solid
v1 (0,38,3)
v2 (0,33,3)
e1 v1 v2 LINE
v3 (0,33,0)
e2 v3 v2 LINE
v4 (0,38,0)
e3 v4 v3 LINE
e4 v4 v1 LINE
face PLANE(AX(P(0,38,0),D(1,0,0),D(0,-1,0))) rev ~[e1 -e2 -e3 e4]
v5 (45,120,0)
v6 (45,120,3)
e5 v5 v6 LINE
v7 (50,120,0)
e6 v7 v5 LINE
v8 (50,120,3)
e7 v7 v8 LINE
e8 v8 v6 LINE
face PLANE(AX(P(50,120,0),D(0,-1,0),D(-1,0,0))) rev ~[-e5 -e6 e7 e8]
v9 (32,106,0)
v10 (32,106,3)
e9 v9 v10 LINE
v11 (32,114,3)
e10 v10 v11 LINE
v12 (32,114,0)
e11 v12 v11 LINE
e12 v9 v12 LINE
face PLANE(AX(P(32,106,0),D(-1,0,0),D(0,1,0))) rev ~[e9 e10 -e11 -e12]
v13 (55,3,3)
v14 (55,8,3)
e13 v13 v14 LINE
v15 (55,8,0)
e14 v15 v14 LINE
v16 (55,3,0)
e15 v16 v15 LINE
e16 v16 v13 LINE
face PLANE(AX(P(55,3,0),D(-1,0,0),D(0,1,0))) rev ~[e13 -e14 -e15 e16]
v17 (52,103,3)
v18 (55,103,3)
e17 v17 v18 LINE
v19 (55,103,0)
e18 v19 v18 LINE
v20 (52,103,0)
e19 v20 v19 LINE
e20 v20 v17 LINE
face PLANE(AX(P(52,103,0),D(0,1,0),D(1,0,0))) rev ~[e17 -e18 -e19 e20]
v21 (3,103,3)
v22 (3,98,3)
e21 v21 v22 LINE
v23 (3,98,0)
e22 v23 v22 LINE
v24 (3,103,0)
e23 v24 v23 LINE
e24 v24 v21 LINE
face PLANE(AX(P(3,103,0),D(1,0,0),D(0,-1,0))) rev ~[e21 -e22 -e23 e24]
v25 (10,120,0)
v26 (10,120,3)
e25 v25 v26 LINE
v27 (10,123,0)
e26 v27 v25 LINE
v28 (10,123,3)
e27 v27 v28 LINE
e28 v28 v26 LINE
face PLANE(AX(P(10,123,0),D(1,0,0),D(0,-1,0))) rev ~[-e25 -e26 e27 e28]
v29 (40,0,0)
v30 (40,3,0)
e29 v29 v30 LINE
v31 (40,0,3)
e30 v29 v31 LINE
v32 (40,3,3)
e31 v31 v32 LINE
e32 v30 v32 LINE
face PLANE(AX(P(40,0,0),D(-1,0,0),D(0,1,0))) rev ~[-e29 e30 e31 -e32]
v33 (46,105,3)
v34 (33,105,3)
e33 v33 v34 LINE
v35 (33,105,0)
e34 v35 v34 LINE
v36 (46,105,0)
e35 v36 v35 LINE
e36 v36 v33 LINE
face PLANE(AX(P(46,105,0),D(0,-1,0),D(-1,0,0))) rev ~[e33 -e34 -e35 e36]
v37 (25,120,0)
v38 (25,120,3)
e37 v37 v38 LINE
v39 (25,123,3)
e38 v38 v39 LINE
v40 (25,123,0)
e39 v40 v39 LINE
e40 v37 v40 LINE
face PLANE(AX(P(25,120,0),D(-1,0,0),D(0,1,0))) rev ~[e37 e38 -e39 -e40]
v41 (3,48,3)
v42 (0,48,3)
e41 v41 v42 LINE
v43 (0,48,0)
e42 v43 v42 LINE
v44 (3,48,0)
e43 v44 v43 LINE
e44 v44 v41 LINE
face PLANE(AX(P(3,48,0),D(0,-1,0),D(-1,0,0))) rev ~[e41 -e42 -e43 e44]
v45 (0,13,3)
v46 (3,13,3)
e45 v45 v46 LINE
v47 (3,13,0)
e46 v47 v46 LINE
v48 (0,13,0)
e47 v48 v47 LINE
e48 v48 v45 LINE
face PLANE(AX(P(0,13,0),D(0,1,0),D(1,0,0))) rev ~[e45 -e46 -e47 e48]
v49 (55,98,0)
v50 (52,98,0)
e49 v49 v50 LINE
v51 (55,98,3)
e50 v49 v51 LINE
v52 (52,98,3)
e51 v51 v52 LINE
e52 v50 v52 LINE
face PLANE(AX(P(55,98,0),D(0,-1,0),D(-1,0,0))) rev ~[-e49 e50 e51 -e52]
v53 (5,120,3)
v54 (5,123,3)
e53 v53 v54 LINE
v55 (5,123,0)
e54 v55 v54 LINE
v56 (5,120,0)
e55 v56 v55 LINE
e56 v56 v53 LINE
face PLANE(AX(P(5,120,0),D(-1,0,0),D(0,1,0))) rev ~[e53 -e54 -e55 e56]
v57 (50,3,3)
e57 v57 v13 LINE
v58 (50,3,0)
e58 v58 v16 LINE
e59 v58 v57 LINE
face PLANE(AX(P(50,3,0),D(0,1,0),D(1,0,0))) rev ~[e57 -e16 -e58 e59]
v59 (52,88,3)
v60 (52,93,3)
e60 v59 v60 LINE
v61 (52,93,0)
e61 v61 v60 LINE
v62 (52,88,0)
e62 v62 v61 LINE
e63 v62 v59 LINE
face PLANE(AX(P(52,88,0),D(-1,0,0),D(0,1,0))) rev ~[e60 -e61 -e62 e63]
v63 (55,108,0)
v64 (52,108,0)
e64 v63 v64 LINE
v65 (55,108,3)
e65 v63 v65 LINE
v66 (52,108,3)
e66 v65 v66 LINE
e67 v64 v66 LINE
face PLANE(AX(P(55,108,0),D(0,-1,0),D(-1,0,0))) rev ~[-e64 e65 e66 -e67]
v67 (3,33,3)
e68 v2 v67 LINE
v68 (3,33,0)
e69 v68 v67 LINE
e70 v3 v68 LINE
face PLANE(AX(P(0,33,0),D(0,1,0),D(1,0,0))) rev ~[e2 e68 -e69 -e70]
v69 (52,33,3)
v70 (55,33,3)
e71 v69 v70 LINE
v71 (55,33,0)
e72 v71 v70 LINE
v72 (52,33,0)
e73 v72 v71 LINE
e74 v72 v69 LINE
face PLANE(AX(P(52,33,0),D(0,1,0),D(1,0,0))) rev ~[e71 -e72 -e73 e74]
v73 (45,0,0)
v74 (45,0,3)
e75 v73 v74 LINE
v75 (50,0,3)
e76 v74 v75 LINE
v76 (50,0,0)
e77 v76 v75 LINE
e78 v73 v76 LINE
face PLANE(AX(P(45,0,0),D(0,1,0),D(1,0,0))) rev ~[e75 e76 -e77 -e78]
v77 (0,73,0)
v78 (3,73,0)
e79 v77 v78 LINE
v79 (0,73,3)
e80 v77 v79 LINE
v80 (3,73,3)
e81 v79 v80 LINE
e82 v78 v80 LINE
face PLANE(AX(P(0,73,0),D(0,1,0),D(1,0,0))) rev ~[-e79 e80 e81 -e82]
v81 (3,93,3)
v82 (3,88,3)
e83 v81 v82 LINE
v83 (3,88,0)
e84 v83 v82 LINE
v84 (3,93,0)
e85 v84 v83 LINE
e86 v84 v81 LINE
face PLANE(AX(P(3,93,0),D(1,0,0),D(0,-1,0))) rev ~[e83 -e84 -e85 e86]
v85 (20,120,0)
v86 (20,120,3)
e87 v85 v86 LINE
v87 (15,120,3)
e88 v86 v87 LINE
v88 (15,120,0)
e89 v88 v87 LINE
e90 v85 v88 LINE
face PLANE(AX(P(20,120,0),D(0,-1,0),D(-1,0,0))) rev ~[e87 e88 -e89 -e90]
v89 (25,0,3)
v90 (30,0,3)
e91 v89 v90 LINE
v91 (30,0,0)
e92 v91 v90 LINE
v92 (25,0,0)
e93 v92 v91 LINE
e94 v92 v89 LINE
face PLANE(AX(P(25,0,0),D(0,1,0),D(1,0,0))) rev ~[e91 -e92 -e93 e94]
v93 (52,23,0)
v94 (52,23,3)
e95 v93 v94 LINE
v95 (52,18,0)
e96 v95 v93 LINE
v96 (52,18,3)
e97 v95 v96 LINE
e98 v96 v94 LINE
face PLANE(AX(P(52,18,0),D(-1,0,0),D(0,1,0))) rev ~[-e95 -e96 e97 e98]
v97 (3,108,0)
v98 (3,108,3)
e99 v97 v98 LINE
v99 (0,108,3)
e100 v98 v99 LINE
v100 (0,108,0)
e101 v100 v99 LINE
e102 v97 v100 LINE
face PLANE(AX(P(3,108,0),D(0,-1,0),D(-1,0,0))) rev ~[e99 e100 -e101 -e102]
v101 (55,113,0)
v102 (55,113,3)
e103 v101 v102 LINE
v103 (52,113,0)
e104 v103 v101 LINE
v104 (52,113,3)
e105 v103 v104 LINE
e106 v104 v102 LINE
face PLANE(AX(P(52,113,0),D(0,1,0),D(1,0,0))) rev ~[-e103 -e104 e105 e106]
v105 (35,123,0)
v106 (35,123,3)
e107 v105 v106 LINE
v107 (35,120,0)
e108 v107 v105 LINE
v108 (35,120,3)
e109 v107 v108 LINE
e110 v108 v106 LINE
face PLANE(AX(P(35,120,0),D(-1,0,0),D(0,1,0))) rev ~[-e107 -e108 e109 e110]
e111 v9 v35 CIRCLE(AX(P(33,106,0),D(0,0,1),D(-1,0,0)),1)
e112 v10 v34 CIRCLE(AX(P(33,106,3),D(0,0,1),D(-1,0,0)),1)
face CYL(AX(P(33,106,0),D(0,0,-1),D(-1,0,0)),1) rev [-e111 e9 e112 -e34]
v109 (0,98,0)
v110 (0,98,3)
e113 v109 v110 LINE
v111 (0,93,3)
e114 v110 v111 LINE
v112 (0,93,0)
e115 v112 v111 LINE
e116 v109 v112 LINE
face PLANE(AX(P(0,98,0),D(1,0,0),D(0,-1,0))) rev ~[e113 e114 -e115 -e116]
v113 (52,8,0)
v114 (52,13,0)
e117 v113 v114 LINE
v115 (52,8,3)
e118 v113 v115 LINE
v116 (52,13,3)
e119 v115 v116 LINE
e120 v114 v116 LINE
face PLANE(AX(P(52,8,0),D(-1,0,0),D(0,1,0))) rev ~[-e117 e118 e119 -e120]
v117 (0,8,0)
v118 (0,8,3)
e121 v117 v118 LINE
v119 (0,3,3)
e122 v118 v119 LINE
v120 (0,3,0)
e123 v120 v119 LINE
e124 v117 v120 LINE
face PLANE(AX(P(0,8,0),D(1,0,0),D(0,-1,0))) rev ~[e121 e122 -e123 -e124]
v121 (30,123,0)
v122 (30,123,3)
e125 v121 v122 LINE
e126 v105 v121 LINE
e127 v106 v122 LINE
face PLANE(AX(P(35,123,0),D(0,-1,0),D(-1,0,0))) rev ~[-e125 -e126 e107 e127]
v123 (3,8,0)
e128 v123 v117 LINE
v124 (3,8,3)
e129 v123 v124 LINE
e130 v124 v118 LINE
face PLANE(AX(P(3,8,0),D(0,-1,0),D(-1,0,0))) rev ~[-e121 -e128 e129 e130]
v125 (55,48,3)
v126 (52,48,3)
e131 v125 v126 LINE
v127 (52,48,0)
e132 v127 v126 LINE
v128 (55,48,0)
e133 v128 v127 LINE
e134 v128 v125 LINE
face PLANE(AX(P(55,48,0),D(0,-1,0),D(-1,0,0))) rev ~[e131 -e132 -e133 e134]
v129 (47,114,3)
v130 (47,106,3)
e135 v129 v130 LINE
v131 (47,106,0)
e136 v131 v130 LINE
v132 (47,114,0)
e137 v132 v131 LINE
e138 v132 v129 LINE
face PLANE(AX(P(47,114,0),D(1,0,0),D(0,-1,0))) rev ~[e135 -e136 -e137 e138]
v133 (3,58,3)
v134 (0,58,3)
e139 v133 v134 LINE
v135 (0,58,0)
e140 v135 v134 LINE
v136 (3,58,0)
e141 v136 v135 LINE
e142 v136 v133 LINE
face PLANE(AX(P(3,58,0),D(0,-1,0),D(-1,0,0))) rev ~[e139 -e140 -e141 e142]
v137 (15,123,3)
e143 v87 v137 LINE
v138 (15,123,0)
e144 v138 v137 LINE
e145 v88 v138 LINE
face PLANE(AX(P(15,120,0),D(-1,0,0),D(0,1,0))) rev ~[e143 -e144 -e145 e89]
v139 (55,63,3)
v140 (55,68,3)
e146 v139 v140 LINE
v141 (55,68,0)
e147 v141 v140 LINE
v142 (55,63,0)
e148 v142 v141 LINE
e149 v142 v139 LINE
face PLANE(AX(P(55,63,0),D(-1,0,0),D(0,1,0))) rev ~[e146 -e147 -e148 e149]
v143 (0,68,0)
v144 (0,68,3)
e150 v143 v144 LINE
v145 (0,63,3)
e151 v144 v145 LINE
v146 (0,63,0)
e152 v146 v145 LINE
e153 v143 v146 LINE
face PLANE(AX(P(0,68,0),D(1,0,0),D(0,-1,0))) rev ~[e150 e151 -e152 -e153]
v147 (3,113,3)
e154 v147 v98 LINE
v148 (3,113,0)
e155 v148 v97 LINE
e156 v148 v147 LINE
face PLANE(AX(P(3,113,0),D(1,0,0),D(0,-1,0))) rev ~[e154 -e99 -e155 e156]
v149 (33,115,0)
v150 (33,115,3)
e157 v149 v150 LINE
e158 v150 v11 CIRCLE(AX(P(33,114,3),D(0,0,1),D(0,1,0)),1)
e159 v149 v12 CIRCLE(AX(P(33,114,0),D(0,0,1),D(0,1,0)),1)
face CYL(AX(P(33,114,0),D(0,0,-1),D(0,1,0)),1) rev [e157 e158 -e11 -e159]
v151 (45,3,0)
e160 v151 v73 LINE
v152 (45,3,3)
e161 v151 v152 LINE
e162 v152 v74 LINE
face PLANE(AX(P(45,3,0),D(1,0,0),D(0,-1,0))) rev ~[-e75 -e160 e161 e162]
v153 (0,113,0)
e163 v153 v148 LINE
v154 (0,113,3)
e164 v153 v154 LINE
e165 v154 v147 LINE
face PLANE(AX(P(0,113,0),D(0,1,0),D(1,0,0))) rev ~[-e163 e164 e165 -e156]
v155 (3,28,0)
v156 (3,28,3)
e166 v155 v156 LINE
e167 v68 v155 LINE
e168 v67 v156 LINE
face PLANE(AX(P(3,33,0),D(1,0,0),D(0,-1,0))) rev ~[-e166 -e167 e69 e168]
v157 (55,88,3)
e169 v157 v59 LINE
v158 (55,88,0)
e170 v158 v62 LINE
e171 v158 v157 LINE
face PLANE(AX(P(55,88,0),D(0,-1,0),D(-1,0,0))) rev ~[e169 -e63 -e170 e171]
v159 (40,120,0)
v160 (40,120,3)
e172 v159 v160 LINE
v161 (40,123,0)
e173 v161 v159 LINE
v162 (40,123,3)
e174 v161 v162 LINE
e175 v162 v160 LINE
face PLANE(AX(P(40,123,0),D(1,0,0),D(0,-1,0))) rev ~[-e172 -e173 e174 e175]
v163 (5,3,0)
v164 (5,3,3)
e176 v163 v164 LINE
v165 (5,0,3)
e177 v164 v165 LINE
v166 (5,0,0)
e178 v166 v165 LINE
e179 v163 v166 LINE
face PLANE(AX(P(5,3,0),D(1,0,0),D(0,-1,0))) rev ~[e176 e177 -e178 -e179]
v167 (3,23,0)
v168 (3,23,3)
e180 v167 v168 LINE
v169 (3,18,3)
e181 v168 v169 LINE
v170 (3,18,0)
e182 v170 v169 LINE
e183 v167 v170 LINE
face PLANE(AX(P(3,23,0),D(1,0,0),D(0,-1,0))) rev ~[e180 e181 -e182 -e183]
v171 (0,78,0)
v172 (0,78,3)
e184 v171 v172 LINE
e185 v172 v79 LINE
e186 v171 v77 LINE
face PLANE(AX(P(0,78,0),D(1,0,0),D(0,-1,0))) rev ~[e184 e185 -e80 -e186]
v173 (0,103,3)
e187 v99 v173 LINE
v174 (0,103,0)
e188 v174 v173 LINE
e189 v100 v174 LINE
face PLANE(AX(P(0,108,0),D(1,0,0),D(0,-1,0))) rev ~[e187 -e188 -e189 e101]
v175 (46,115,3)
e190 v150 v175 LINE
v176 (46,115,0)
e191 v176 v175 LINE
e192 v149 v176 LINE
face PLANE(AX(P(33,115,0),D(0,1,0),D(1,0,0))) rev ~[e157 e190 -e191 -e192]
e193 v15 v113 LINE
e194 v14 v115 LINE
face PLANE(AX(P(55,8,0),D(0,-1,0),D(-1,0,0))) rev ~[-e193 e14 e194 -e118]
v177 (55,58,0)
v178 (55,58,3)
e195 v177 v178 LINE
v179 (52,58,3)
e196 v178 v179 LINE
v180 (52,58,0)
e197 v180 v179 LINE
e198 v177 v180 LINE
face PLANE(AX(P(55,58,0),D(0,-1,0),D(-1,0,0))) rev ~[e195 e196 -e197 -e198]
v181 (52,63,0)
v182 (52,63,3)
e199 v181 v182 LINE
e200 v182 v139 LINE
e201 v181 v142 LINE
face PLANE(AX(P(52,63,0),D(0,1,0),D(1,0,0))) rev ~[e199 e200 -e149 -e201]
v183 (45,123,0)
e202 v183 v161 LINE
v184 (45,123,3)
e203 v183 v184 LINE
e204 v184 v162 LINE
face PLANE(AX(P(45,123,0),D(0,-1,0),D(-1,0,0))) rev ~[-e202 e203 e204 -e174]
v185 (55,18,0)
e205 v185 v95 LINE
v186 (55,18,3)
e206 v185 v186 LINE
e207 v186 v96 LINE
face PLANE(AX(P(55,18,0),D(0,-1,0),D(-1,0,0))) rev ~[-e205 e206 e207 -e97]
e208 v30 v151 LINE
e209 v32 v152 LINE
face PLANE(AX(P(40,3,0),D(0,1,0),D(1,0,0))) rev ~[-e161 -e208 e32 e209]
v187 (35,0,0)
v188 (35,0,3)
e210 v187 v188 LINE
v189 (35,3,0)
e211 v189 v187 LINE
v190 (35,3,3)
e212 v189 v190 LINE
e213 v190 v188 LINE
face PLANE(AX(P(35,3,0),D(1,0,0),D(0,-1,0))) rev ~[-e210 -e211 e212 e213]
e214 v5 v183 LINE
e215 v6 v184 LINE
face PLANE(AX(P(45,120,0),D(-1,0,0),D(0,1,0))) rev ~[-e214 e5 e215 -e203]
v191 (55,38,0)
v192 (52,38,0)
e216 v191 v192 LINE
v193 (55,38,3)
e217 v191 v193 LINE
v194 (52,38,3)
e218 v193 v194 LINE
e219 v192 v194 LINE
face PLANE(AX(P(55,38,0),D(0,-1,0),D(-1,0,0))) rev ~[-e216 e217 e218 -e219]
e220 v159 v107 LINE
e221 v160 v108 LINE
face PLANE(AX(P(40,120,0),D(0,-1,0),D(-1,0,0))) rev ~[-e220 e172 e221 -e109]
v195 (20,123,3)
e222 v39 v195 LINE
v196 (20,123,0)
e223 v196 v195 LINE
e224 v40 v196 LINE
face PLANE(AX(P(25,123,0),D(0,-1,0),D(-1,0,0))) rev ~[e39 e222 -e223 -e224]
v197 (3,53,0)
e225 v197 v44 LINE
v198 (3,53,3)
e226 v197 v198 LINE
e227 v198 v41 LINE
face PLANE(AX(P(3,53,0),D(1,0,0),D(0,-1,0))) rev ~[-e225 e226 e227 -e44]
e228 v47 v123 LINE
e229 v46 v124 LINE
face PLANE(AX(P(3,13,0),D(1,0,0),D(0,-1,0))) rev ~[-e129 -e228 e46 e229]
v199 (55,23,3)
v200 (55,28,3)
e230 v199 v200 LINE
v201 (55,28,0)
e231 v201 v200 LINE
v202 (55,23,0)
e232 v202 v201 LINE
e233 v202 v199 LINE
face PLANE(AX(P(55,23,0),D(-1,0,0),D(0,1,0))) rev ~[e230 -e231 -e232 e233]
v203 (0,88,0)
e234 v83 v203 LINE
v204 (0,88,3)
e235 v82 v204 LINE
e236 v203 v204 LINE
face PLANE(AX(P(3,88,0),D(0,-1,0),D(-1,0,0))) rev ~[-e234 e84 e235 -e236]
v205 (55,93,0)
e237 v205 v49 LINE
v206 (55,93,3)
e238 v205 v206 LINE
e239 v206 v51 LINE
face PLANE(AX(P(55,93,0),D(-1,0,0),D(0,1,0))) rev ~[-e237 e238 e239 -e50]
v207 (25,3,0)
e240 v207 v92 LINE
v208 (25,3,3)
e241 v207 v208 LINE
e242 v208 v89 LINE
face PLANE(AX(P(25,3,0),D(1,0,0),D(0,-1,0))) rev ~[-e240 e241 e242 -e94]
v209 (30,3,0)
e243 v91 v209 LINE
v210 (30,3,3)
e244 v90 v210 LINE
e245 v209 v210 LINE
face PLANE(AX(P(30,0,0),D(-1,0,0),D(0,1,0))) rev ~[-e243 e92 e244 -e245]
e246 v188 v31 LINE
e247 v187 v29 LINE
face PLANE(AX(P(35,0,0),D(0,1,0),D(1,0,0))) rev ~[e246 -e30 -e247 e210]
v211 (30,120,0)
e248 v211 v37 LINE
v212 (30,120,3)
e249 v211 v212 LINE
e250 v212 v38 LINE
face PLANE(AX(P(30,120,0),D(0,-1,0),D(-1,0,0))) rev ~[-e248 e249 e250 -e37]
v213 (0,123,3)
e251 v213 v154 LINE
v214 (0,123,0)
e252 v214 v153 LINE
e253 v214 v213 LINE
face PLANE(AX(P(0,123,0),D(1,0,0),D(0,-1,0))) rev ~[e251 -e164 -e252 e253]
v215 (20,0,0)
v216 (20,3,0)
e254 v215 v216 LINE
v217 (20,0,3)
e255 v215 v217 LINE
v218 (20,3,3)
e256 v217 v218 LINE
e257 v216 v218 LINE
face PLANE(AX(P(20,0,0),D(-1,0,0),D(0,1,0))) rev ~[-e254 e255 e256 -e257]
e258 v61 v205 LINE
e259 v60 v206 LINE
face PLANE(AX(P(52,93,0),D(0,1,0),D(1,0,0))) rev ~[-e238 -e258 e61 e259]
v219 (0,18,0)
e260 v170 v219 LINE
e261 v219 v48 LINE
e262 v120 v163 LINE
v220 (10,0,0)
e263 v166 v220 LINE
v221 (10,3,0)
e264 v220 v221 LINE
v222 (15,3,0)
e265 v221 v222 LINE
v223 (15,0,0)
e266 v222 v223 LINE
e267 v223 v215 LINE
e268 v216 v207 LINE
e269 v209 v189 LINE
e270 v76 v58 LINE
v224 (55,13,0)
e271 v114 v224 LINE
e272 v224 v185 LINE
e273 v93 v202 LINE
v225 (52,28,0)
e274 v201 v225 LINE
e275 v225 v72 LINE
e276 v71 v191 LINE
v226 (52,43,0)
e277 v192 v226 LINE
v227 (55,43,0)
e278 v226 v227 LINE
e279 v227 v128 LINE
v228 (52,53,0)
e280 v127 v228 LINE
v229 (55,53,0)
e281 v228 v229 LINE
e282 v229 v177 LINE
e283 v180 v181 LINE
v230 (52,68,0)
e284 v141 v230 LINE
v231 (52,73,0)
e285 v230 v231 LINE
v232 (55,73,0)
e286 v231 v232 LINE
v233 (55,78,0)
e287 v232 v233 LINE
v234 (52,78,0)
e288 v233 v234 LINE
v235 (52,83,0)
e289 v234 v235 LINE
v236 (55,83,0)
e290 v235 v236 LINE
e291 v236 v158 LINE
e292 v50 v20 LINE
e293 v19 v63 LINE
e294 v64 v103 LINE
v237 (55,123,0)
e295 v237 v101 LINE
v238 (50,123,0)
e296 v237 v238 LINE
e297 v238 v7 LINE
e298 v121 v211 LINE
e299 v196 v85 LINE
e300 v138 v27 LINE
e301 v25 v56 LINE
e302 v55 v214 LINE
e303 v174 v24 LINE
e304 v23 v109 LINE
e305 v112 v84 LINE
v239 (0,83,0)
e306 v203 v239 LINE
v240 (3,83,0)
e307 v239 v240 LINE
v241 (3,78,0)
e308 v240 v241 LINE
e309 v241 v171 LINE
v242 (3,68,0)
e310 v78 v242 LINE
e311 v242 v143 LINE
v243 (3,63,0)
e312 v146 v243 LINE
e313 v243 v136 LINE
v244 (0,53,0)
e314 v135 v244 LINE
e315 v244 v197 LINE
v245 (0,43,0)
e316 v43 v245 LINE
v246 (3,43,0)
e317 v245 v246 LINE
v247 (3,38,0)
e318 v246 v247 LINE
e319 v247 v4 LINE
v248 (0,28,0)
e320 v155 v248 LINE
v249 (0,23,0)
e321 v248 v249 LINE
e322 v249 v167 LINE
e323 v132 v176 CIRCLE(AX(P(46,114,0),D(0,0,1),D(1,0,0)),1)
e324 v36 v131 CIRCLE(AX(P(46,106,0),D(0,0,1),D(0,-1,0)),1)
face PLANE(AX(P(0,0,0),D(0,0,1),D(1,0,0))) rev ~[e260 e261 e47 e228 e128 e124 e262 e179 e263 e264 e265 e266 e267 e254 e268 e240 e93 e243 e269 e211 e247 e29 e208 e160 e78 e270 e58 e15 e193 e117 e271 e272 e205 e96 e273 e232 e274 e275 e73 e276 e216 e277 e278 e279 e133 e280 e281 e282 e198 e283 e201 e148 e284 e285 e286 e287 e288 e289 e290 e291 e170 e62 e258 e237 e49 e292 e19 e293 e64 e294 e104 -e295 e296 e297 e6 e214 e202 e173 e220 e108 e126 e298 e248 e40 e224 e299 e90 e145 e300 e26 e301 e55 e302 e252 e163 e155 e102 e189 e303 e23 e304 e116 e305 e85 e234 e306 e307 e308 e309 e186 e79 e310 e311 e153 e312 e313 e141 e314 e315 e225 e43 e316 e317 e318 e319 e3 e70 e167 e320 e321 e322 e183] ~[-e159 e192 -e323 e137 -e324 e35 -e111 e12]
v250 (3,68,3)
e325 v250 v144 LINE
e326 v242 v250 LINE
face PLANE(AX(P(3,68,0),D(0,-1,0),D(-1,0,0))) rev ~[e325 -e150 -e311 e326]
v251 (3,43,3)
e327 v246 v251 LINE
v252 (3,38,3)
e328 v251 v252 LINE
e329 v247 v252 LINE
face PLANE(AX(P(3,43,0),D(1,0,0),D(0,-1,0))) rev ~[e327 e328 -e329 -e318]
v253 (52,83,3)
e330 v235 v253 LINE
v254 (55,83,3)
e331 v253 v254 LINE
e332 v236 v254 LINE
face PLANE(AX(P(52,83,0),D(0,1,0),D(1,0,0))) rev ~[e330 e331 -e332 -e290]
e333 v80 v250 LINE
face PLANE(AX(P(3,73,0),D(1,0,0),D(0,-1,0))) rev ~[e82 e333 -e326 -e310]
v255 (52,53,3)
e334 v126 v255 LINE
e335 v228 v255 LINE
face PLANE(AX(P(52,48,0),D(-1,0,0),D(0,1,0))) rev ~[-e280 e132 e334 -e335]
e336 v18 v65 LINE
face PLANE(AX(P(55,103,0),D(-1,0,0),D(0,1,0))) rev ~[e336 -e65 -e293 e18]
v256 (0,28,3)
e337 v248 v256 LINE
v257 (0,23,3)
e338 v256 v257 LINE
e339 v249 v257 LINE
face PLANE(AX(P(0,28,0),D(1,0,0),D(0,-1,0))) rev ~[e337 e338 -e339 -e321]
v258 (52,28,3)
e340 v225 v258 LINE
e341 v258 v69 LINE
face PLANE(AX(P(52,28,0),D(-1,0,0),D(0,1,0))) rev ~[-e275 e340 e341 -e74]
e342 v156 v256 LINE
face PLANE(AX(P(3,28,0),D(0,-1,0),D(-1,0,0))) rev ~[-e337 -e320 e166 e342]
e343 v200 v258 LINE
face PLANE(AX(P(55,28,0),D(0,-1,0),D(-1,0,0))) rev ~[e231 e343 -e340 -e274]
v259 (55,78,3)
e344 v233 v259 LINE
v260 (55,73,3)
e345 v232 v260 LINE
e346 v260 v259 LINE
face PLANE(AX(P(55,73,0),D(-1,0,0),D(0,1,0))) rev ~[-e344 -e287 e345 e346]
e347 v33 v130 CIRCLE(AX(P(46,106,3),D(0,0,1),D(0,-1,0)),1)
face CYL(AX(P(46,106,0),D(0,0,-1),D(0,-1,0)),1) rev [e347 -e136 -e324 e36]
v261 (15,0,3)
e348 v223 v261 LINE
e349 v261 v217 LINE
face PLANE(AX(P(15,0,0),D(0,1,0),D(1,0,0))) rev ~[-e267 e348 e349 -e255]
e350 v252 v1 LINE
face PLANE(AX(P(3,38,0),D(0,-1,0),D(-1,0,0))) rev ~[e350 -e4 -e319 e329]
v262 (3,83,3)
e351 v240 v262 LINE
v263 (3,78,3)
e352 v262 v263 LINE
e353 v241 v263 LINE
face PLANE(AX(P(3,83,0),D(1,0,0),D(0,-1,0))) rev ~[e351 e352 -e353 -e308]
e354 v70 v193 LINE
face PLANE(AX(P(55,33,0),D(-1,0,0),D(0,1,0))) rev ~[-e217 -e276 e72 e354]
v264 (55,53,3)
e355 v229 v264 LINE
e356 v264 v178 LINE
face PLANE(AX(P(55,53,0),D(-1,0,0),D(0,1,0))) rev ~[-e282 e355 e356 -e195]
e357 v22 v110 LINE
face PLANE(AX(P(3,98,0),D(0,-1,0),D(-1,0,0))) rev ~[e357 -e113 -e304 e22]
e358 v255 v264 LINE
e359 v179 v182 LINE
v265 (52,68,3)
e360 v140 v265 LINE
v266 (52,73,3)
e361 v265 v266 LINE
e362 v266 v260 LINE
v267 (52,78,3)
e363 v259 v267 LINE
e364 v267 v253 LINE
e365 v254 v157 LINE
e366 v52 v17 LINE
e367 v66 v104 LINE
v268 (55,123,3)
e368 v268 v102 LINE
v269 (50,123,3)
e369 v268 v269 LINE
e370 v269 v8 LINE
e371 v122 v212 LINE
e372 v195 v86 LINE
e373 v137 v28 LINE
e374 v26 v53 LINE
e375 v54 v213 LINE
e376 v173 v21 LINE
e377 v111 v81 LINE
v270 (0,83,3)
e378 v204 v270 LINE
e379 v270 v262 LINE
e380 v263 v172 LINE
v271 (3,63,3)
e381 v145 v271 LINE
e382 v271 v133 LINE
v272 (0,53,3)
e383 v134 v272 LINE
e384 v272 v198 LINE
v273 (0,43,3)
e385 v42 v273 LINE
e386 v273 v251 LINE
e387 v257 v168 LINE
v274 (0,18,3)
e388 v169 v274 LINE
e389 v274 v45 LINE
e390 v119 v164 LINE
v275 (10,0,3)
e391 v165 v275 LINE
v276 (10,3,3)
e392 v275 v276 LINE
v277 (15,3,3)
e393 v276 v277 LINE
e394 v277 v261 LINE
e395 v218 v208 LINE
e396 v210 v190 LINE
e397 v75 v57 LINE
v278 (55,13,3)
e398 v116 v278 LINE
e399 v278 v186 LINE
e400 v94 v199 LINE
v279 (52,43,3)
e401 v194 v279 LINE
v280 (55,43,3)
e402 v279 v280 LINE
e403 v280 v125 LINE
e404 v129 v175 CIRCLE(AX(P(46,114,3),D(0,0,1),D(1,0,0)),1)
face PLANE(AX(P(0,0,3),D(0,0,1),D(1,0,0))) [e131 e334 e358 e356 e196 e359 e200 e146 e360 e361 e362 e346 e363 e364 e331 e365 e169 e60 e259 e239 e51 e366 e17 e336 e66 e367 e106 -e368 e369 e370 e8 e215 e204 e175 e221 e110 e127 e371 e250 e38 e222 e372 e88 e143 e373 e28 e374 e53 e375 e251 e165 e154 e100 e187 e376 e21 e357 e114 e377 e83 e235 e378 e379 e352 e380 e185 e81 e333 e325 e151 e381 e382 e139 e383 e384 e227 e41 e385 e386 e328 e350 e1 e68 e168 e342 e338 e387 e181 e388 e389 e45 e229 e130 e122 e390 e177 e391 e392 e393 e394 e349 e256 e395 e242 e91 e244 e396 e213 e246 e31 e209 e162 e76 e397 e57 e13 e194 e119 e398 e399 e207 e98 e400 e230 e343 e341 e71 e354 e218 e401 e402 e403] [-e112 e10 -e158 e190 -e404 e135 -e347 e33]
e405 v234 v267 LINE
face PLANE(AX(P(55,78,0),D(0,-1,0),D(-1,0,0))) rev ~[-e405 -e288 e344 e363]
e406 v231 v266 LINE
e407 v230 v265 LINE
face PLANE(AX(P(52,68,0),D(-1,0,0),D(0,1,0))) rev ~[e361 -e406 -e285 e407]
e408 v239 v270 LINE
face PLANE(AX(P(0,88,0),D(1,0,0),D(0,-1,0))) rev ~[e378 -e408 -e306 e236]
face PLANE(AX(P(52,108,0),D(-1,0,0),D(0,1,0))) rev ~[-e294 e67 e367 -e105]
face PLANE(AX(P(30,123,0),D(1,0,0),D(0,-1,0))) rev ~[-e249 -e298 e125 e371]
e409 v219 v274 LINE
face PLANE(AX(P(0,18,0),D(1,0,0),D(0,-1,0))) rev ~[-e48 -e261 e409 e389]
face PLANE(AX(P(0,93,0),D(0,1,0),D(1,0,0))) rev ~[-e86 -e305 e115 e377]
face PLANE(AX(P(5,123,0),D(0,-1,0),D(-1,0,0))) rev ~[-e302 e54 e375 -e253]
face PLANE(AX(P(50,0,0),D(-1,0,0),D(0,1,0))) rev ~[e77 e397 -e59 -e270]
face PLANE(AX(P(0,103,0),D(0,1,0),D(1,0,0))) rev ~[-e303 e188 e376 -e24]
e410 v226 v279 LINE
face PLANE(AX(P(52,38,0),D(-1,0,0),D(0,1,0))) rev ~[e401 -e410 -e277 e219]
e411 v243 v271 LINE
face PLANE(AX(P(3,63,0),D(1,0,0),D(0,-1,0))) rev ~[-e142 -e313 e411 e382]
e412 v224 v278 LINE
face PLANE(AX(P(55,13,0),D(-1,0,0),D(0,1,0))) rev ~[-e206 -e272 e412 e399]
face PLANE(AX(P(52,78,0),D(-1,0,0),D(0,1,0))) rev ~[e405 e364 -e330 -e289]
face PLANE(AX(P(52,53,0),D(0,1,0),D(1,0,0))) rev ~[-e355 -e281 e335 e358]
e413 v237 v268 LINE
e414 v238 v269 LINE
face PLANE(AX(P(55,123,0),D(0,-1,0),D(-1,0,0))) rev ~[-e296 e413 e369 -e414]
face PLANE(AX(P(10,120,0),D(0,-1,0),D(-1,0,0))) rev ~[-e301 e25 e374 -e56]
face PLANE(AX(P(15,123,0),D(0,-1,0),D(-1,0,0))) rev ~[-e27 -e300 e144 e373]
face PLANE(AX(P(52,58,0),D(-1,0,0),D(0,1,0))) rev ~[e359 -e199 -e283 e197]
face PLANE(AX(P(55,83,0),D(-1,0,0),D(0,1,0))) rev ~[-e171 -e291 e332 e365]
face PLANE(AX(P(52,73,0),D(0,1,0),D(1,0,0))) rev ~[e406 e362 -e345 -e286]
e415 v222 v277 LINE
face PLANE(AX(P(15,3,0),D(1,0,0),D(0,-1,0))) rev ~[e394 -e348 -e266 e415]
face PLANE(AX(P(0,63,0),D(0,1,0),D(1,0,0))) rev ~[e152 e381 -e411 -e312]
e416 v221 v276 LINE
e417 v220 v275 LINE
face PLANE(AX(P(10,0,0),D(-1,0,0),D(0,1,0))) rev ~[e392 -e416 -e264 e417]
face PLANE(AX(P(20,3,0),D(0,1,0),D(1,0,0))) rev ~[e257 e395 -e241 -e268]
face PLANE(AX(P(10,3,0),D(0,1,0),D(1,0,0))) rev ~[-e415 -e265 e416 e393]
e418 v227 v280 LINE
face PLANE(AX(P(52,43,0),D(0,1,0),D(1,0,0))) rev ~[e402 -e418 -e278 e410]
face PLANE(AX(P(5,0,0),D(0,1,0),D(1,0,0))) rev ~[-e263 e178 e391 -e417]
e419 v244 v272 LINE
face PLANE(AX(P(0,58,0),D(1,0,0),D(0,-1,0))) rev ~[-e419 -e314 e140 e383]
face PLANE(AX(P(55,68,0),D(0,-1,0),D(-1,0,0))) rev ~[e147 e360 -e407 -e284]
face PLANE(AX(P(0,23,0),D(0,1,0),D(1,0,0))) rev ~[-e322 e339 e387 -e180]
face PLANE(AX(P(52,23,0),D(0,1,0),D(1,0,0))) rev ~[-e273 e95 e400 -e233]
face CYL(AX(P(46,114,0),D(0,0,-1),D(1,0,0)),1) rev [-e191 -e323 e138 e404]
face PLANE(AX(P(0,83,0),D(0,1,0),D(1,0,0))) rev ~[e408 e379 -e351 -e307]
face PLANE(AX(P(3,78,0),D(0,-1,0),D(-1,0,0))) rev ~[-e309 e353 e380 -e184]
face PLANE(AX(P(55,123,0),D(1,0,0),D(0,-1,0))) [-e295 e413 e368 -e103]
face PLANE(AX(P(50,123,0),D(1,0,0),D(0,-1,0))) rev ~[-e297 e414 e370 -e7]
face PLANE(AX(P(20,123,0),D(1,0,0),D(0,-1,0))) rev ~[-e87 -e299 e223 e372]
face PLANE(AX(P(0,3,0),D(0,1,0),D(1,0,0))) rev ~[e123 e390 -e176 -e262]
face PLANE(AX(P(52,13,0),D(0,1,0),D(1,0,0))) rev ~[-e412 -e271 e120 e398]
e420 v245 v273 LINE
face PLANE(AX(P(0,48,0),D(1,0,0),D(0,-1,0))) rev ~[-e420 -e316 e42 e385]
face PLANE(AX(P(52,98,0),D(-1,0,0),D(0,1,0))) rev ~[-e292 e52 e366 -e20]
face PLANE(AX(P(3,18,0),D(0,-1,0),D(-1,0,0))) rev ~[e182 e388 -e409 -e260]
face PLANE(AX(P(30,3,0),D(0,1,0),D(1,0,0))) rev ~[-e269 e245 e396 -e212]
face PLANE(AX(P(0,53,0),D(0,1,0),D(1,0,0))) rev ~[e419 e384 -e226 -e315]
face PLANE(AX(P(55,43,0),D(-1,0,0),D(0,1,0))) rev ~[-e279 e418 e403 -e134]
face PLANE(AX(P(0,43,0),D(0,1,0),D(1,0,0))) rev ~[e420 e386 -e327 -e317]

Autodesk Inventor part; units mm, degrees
ref_plane "YZ Plane" through (0, 0, 0) normal (1, 0, 0) x (0, 1, 0)
ref_plane "XZ Plane" through (0, 0, 0) normal (0, 1, 0) x (-1, 0, 0)
ref_plane "XY Plane" through (0, 0, 0) normal (0, 0, 1) x (1, 0, 0)
sketch "Skizze1" plane through (0, 0, 0) normal (0, 0, 1) x (1, 0, 0)
  line L0 (0, 3) -> (5, 3)
  line L1 (5, 3) -> (5, 0)
  line L2 (5, 0) -> (10, 0)
  line L3 (10, 0) -> (10, 3)
  line L4 (10, 3) -> (15, 3)
  line L5 (15, 3) -> (15, 0)
  line L6 (15, 0) -> (20, 0)
  line L7 (20, 0) -> (20, 3)
  line L8 (20, 3) -> (25, 3)
  line L9 (25, 3) -> (25, 0)
  line L10 (25, 0) -> (30, 0)
  line L11 (30, 0) -> (30, 3)
  line L12 (30, 3) -> (35, 3)
  line L13 (35, 3) -> (35, 0)
  line L14 (35, 0) -> (40, 0)
  line L15 (40, 0) -> (40, 3)
  line L16 (40, 3) -> (45, 3)
  line L17 (45, 3) -> (45, 0)
  line L18 (45, 0) -> (50, 0)
  line L19 (50, 0) -> (50, 3)
  line L20 (50, 3) -> (55, 3)
  line L21 (55, 3) -> (55, 8)
  line L22 (55, 8) -> (52, 8)
  line L23 (52, 8) -> (52, 13)
  line L24 (52, 13) -> (55, 13)
  line L25 (55, 13) -> (55, 18)
  line L26 (52, 18) -> (52, 23)
  line L27 (55, 18) -> (52, 18)
  line L28 (52, 23) -> (55, 23)
  line L29 (55, 23) -> (55, 28)
  line L30 (52, 28) -> (52, 33)
  line L31 (55, 28) -> (52, 28)
  line L32 (52, 33) -> (55, 33)
  line L33 (55, 33) -> (55, 38)
  line L34 (52, 38) -> (52, 43)
  line L35 (55, 38) -> (52, 38)
  line L36 (52, 43) -> (55, 43)
  line L37 (55, 43) -> (55, 48)
  line L38 (52, 48) -> (52, 53)
  line L39 (55, 48) -> (52, 48)
  line L40 (52, 53) -> (55, 53)
  line L41 (55, 53) -> (55, 58)
  line L42 (52, 58) -> (52, 63)
  line L43 (55, 58) -> (52, 58)
  line L44 (52, 63) -> (55, 63)
  line L45 (55, 63) -> (55, 68)
  line L46 (52, 68) -> (52, 73)
  line L47 (55, 68) -> (52, 68)
  line L48 (52, 73) -> (55, 73)
  line L49 (55, 73) -> (55, 78)
  line L50 (52, 78) -> (52, 83)
  line L51 (55, 78) -> (52, 78)
  line L52 (52, 83) -> (55, 83)
  line L53 (55, 83) -> (55, 88)
  line L54 (52, 88) -> (52, 93)
  line L55 (55, 88) -> (52, 88)
  line L56 (52, 93) -> (55, 93)
  line L57 (55, 93) -> (55, 98)
  line L58 (52, 98) -> (52, 103)
  line L59 (55, 98) -> (52, 98)
  line L60 (52, 103) -> (55, 103)
  line L61 (55, 123) -> (50, 123)
  line L62 (50, 123) -> (50, 120)
  line L63 (50, 120) -> (45, 120)
  line L64 (45, 120) -> (45, 123)
  line L65 (40, 120) -> (35, 120)
  line L66 (40, 123) -> (40, 120)
  line L67 (35, 120) -> (35, 123)
  line L68 (45, 123) -> (40, 123)
  line L69 (30, 120) -> (25, 120)
  line L70 (30, 123) -> (30, 120)
  line L71 (25, 120) -> (25, 123)
  line L72 (35, 123) -> (30, 123)
  line L73 (20, 120) -> (15, 120)
  line L74 (20, 123) -> (20, 120)
  line L75 (15, 120) -> (15, 123)
  line L76 (25, 123) -> (20, 123)
  line L77 (10, 120) -> (5, 120)
  line L78 (10, 123) -> (10, 120)
  line L79 (5, 120) -> (5, 123)
  line L80 (15, 123) -> (10, 123)
  line L81 (5, 123) -> (0, 123)
  line L82 (55, 103) -> (55, 108)
  line L83 (52, 108) -> (52, 113)
  line L84 (55, 108) -> (52, 108)
  line L85 (52, 113) -> (55, 113)
  line L86 (55, 123) -> (55, 113)
  line L87 (0, 123) -> (0, 113)
  line L88 (0, 113) -> (3, 113)
  line L89 (3, 113) -> (3, 108)
  line L90 (3, 108) -> (0, 108)
  line L91 (0, 108) -> (0, 103)
  line L92 (3, 103) -> (3, 98)
  line L93 (0, 98) -> (0, 93)
  line L94 (3, 98) -> (0, 98)
  line L95 (0, 103) -> (3, 103)
  line L96 (3, 93) -> (3, 88)
  line L97 (0, 88) -> (0, 83)
  line L98 (3, 88) -> (0, 88)
  line L99 (0, 93) -> (3, 93)
  line L100 (3, 83) -> (3, 78)
  line L101 (0, 78) -> (0, 73)
  line L102 (3, 78) -> (0, 78)
  line L103 (0, 83) -> (3, 83)
  line L104 (3, 73) -> (3, 68)
  line L105 (0, 68) -> (0, 63)
  line L106 (3, 68) -> (0, 68)
  line L107 (0, 73) -> (3, 73)
  line L108 (3, 63) -> (3, 58)
  line L109 (0, 58) -> (0, 53)
  line L110 (3, 58) -> (0, 58)
  line L111 (0, 63) -> (3, 63)
  line L112 (3, 53) -> (3, 48)
  line L113 (0, 48) -> (0, 43)
  line L114 (3, 48) -> (0, 48)
  line L115 (0, 53) -> (3, 53)
  line L116 (3, 43) -> (3, 38)
  line L117 (0, 38) -> (0, 33)
  line L118 (3, 38) -> (0, 38)
  line L119 (0, 43) -> (3, 43)
  line L120 (3, 33) -> (3, 28)
  line L121 (0, 28) -> (0, 23)
  line L122 (3, 28) -> (0, 28)
  line L123 (0, 33) -> (3, 33)
  line L124 (3, 23) -> (3, 18)
  line L125 (0, 18) -> (0, 13)
  line L126 (3, 18) -> (0, 18)
  line L127 (0, 23) -> (3, 23)
  line L128 (3, 13) -> (3, 8)
  line L129 (0, 8) -> (0, 3)
  line L130 (3, 8) -> (0, 8)
  line L131 (0, 13) -> (3, 13)
  line L132 (46, 105) -> (33, 105)
  line L133 (32, 106) -> (32, 114)
  line L134 (33, 115) -> (46, 115)
  line L135 (47, 114) -> (47, 106)
  arc A0 (46, 105) -> (47, 106) centre (46, 106) ccw
  arc A1 (32, 106) -> (33, 105) centre (33, 106) ccw
  arc A2 (33, 115) -> (32, 114) centre (33, 114) ccw
  arc A3 (47, 114) -> (46, 115) centre (46, 114) ccw
  point P0 (0, 0)
  point P1 (47, 105)
  point P2 (32, 115)
  point P3 (32, 105)
  dimension "d0" = 5
  dimension "d1" = 3
  dimension "d4" = 10
  dimension "d11" = 10
  dimension "d18" = 10
  dimension "d32" = 123
  dimension "d35" = 10
  dimension "d40" = 15
  dimension "d41" = 10
  dimension "d42" = 1
  dimension "d43" = 5
  dimension "d44" = 5
extrude "Extrusion1" add sketch "Skizze1" along normal blind 3
properties part number "plate_front_big"
